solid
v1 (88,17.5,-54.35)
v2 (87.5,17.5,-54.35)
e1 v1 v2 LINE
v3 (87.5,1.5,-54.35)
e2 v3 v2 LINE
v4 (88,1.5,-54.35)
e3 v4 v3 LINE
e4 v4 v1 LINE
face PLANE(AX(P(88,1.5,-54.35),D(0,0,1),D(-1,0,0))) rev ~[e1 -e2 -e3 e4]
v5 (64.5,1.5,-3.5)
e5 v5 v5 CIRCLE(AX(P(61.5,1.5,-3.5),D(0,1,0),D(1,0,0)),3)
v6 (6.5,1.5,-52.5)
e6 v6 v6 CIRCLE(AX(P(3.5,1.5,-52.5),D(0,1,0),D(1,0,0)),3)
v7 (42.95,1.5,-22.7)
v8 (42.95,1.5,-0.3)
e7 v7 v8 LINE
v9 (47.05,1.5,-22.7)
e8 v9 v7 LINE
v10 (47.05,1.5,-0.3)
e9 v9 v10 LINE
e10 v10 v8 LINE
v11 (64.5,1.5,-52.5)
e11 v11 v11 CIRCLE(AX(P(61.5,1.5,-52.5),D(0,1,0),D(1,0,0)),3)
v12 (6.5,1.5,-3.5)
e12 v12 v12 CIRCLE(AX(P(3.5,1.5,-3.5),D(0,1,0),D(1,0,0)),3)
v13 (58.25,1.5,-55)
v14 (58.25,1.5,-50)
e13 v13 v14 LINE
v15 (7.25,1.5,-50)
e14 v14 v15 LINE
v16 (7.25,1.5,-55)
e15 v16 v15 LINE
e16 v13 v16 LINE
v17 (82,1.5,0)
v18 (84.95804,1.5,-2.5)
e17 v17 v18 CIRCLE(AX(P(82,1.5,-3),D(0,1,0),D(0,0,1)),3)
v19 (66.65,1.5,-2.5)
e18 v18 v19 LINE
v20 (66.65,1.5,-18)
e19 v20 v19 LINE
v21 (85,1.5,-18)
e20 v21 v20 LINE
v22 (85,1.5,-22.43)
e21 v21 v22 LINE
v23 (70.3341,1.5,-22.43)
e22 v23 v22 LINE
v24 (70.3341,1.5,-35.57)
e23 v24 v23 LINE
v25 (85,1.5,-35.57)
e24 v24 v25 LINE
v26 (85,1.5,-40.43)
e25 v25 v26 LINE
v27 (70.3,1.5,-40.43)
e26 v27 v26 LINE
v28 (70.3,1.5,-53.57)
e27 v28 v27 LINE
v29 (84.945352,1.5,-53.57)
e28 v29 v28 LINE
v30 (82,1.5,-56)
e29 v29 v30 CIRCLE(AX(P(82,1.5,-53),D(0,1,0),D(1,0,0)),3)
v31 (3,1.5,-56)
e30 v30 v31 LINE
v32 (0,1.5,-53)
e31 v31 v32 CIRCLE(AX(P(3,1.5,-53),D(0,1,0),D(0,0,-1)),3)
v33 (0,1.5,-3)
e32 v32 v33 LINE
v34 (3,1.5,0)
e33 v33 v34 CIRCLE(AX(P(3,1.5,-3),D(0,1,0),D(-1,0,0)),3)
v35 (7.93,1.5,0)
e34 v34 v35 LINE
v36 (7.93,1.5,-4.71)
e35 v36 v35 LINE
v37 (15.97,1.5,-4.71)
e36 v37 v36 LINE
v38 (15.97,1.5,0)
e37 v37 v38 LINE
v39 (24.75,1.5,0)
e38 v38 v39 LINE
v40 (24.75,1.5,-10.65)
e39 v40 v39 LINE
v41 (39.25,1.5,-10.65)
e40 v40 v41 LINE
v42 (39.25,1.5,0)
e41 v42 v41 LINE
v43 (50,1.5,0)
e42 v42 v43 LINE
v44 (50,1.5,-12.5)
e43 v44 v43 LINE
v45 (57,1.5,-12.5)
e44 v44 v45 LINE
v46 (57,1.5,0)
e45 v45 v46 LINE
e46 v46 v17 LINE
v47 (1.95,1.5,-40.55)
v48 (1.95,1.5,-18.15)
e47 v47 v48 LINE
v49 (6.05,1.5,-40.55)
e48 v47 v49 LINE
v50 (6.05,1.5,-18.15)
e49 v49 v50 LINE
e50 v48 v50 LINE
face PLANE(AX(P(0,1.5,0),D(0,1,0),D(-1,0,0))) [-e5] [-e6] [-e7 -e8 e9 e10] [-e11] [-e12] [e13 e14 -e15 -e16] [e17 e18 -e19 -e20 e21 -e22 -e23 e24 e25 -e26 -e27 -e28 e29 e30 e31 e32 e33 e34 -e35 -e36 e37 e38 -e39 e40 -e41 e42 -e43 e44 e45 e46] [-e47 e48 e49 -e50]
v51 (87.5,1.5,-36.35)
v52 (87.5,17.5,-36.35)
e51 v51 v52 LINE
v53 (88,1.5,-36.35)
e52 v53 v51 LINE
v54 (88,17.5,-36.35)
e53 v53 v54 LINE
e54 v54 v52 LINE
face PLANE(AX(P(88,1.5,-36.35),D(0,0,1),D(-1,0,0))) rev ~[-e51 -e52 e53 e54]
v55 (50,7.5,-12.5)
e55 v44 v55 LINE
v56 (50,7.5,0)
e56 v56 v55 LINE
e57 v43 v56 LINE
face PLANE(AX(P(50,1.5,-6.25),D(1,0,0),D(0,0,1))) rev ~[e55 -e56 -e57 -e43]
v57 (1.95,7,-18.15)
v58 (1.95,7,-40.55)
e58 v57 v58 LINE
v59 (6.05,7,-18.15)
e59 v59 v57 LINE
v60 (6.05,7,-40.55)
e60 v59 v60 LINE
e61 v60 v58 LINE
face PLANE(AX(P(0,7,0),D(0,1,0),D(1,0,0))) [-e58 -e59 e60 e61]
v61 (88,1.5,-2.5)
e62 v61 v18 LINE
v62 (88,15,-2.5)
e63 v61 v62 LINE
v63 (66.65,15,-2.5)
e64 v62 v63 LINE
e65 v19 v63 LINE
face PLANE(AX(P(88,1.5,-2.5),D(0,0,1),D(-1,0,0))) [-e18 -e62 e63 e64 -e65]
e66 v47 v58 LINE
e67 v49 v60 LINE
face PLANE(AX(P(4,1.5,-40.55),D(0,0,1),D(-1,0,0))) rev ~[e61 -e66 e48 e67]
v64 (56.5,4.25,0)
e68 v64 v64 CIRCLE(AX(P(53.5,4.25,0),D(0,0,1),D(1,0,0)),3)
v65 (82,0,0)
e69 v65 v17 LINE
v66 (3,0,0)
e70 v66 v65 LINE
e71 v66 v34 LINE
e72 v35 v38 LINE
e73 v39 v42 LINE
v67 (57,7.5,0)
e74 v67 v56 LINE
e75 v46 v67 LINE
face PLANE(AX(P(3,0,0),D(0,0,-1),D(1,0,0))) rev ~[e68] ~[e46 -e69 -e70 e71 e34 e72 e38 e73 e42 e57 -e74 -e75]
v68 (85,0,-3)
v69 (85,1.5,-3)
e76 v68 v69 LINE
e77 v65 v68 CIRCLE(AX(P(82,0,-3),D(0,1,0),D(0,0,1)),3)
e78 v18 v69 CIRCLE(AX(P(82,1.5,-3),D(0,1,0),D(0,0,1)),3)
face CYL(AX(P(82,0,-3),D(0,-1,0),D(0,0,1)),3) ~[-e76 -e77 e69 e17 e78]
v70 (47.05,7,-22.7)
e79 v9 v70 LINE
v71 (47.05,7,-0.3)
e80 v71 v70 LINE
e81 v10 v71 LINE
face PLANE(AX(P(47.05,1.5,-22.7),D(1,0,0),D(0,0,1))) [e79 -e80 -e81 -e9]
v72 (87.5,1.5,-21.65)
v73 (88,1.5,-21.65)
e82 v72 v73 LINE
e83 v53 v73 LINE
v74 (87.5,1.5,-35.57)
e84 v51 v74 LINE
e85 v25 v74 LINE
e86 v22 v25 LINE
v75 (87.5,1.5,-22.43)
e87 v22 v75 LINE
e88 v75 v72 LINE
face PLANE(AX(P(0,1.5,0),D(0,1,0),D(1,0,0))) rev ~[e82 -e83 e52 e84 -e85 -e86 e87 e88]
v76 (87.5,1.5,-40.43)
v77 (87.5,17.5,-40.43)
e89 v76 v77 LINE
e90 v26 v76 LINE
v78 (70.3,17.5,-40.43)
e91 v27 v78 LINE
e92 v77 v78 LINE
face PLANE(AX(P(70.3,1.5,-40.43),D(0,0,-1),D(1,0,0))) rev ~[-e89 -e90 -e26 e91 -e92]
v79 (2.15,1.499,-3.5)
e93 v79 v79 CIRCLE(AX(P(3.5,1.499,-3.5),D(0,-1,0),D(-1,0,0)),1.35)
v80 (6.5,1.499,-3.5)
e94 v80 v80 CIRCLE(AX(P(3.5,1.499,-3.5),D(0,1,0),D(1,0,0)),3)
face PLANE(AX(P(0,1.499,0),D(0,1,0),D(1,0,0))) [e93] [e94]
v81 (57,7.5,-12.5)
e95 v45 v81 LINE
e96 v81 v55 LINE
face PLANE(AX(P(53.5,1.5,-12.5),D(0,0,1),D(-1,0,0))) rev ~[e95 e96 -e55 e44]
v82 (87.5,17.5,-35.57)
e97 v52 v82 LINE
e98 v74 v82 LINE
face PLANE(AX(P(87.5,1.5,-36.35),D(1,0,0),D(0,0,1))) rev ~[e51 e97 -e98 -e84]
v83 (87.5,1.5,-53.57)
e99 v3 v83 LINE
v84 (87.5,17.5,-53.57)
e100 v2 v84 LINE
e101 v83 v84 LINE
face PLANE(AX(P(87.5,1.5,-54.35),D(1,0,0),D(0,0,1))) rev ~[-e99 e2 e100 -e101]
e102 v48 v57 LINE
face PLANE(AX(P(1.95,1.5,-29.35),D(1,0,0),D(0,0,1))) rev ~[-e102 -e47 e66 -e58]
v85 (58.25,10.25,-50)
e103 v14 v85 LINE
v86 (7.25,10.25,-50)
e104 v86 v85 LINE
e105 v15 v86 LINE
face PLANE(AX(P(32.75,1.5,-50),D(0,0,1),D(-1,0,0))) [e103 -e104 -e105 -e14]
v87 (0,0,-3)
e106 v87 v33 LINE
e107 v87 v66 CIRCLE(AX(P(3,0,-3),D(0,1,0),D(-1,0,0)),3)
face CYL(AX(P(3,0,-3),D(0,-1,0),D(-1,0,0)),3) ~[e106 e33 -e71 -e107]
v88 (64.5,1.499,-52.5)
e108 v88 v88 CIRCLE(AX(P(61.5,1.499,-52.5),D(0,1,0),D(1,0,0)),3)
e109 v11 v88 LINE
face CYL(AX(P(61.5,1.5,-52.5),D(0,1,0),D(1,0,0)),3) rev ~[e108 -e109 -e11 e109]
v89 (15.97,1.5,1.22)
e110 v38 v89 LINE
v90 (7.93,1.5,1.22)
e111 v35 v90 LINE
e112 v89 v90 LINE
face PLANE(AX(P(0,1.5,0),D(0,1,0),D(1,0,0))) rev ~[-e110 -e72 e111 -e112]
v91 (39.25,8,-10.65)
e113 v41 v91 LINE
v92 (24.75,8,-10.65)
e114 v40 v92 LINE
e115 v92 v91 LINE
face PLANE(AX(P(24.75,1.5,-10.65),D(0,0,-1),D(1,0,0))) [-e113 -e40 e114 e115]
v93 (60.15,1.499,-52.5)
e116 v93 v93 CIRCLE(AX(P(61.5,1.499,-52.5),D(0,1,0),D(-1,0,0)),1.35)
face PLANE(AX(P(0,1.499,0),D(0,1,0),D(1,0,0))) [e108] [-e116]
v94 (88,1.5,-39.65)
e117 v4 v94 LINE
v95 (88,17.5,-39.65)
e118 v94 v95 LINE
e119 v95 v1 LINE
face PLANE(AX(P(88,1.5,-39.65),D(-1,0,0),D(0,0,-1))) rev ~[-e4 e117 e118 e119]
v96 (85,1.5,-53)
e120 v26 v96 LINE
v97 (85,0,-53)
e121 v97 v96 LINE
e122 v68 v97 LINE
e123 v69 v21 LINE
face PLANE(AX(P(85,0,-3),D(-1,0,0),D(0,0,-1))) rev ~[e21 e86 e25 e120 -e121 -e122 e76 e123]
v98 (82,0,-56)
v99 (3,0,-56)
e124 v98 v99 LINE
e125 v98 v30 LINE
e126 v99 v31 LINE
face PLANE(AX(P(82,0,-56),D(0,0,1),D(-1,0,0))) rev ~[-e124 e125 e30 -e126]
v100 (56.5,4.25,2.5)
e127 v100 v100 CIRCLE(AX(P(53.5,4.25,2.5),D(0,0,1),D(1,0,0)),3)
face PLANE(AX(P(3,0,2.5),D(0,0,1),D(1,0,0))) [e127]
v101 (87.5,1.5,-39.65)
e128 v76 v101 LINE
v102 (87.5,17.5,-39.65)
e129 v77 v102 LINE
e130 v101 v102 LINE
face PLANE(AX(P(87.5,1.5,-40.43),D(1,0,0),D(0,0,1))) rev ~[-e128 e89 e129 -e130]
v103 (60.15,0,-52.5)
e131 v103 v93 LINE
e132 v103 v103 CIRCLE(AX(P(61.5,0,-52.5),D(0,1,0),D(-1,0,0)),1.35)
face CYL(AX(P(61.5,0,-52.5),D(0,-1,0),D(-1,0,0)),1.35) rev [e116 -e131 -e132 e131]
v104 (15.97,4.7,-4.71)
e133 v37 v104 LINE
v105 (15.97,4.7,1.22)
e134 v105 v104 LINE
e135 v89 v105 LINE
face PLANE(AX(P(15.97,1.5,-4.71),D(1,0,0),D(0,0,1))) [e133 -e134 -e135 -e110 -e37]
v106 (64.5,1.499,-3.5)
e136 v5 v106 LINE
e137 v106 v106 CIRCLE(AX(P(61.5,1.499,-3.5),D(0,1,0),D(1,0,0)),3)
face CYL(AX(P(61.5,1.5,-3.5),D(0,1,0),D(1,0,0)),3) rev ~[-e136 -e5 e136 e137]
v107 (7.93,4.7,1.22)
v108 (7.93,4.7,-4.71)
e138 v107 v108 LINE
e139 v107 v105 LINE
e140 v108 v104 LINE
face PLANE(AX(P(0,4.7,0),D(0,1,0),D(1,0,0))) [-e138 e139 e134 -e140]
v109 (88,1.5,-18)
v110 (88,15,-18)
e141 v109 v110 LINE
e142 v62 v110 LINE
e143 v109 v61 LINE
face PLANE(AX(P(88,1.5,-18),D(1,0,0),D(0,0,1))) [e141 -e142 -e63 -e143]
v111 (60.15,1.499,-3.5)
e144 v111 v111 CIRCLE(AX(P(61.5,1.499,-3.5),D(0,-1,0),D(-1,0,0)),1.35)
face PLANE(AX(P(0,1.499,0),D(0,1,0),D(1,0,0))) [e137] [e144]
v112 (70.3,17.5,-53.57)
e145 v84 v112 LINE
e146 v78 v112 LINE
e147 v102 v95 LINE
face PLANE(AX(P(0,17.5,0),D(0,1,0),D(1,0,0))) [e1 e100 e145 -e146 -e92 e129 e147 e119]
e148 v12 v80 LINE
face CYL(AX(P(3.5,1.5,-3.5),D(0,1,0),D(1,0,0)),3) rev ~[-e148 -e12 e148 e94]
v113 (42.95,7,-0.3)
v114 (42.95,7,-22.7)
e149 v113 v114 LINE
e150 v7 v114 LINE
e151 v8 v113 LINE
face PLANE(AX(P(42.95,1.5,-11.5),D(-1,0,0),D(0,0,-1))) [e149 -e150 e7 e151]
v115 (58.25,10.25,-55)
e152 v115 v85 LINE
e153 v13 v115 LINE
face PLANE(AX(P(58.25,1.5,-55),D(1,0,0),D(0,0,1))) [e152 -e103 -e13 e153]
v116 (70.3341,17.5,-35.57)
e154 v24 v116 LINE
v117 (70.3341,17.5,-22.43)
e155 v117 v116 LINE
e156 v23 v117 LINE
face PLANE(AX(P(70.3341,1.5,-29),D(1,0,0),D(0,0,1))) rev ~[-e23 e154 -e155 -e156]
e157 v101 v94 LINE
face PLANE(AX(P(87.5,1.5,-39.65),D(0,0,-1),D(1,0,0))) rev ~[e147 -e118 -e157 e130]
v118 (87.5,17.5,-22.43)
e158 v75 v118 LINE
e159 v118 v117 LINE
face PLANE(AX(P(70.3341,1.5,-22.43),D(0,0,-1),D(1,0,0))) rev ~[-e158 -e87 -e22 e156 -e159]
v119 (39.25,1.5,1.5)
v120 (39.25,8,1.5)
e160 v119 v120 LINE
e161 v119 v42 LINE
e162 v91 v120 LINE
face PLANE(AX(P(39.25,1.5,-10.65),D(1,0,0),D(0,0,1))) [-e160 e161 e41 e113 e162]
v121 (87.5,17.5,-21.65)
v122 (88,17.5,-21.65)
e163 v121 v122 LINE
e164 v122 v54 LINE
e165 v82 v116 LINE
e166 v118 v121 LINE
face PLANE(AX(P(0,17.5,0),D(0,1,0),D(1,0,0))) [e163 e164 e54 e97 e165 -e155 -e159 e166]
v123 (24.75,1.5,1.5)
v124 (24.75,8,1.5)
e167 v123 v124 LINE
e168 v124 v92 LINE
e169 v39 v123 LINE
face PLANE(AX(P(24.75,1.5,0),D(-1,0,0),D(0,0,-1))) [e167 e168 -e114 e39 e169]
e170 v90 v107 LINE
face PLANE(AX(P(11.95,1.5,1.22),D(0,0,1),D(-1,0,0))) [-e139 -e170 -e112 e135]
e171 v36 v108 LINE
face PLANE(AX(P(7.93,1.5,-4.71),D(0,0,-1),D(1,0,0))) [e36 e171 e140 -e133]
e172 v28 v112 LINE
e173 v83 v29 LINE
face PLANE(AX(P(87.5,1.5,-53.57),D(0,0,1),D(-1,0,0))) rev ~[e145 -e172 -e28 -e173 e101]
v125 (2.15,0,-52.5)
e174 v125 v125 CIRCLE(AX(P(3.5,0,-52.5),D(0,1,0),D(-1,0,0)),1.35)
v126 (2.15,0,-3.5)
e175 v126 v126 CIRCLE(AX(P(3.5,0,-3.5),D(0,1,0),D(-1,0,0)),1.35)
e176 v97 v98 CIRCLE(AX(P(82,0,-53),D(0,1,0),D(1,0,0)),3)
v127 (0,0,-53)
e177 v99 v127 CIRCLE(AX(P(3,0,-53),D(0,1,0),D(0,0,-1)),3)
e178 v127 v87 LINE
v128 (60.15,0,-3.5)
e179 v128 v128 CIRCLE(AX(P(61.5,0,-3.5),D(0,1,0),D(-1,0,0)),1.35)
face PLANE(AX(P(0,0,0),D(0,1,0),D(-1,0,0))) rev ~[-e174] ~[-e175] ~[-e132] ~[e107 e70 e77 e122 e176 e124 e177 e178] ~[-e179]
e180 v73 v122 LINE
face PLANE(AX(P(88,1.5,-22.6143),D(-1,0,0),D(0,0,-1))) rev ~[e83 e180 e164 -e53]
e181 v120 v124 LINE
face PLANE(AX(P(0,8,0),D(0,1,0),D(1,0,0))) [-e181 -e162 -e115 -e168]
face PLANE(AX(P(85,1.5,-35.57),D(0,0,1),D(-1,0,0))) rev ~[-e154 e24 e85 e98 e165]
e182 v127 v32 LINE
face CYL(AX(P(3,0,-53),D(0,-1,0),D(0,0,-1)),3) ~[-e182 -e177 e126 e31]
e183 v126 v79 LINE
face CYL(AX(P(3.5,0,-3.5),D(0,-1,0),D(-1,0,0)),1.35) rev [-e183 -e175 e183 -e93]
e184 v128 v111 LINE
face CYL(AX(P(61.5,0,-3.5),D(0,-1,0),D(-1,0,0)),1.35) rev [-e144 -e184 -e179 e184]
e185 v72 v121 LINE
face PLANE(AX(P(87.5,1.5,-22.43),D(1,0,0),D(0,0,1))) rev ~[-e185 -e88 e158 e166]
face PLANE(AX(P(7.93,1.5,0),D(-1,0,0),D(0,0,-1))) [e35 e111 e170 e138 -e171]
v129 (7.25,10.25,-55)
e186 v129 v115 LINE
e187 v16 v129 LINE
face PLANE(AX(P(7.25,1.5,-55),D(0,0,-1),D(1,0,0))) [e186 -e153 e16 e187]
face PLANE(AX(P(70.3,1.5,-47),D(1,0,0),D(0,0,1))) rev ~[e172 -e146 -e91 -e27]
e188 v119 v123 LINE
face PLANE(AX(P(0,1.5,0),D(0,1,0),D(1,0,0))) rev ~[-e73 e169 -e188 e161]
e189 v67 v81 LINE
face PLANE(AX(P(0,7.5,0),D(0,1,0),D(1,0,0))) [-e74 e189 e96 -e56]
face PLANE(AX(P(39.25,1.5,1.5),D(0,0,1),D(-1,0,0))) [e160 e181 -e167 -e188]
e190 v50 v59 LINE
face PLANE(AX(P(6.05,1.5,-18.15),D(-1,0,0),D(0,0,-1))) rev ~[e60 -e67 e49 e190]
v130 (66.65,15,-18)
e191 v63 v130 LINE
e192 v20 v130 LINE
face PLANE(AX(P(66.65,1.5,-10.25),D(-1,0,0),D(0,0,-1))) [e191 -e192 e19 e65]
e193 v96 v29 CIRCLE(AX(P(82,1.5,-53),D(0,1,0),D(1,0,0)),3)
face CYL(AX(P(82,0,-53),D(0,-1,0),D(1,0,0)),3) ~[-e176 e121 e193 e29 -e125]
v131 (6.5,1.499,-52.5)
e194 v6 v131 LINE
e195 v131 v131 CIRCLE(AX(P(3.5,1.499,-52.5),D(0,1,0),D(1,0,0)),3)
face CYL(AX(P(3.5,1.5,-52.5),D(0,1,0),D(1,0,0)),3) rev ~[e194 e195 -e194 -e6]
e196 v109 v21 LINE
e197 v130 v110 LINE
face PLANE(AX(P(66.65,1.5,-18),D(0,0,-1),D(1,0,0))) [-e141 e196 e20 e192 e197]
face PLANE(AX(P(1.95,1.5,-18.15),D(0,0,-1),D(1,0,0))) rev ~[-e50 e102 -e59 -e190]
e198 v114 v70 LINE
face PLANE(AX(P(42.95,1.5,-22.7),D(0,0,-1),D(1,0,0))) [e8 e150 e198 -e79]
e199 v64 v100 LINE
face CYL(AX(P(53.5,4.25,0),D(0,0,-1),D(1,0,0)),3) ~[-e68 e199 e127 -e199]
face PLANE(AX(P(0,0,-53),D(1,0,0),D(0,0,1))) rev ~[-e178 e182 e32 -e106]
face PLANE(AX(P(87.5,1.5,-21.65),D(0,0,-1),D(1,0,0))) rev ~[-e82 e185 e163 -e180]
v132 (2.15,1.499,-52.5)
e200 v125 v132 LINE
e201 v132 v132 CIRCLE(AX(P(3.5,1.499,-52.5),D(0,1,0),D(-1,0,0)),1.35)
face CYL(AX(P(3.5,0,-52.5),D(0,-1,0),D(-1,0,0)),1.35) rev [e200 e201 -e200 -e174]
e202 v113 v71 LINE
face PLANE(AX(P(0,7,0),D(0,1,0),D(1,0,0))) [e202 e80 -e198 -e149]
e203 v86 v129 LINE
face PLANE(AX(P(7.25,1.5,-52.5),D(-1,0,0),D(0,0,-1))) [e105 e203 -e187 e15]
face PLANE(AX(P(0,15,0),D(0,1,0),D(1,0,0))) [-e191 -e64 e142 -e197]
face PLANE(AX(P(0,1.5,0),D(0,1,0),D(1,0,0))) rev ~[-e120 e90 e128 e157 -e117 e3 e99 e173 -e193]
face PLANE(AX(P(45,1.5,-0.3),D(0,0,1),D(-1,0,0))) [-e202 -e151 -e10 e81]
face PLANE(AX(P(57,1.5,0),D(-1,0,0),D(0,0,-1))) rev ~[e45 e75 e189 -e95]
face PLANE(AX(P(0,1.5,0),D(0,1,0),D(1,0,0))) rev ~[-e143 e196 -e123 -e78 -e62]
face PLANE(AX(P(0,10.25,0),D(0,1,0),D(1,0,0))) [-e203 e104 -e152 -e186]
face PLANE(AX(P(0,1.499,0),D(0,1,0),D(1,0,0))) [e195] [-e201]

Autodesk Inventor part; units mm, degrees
ref_plane "YZ Plane" through (0, 0, 0) normal (1, 0, 0) x (0, 1, 0)
ref_plane "XZ Plane" through (0, 0, 0) normal (0, 1, 0) x (-1, 0, 0)
ref_plane "XY Plane" through (0, 0, 0) normal (0, 0, 1) x (1, 0, 0)
sketch "Sketch1" plane through (0, 0, 0) normal (0, 1, 0) x (-1, 0, 0)
  line L0 (-3, 0) -> (-82, 0)
  line L1 (-85, -3) -> (-85, -53)
  line L2 (-82, -56) -> (-3, -56)
  line L3 (0, -53) -> (0, -3)
  arc A0 (-3, -56) -> (0, -53) centre (-3, -53) ccw
  arc A1 (0, -3) -> (-3, 0) centre (-3, -3) ccw
  arc A2 (-82, 0) -> (-85, -3) centre (-82, -3) ccw
  arc A3 (-85, -53) -> (-82, -56) centre (-82, -53) ccw
  circle A4 centre (-3.5, -52.5) radius 1.35
  circle A5 centre (-3.5, -3.5) radius 1.35
  circle A6 centre (-61.5, -52.5) radius 1.35
  circle A7 centre (-61.5, -3.5) radius 1.35
  point P0 (0, 0)
  point P1 (-85, -56)
  point P2 (-85, 0)
  point P3 (0, -56)
  dimension "d0" = 85
  dimension "d1" = 56
  dimension "d2" = 3
  dimension "d9" = 2.7
  dimension "d10" = 2.7
  dimension "d15" = 2.7
  dimension "d16" = 2.7
  dimension "d140" = 58
  dimension "d141" = 58
  dimension "d142" = 49
  dimension "d143" = 3.5
extrude "Extrusion1" add sketch "Sketch1" along normal blind 1.5
sketch "Sketch2" plane through (0, 1.5, 0) normal (0, 1, 0) x (1, 0, 0)
  circle A0 centre (3.5, 3.5) radius 1.35 projected
  circle A1 centre (3.5, 3.5) radius 3
  circle A2 centre (3.5, 52.5) radius 1.35 projected
  circle A3 centre (3.5, 52.5) radius 3
  circle A4 centre (61.5, 52.5) radius 1.35 projected
  circle A5 centre (61.5, 52.5) radius 3
  circle A6 centre (61.5, 3.5) radius 1.35 projected
  circle A7 centre (61.5, 3.5) radius 3
  point P0 (0, 0)
  dimension "d19" = 6
  dimension "d20" = 6
  dimension "d21" = 6
  dimension "d22" = 6
extrude "Extrusion2" cut sketch "Sketch2" against normal blind 0.001 contours A0 | A1 | A3 | A5 | A6 | A7
sketch "Sketch3" plane through (0, 1.5, 0) normal (0, 1, 0) x (1, 0, 0)
  line L0 (7.25, 55) -> (58.25, 55)
  line L1 (58.25, 55) -> (58.25, 50)
  line L2 (58.25, 50) -> (7.25, 50)
  line L3 (7.25, 50) -> (7.25, 55)
  line L4 (32.75, 55) -> (32.75, 50)
  line L5 (32.75, 52.5) -> (7.25, 52.5)
  line L6 (0, 53) -> (0, 3) projected
  line L7 (82, 56) -> (3, 56) projected
  circle A0 centre (3.5, 52.5) radius 1.35 projected
  point P0 (0, 0)
  dimension "d25" = 51
  dimension "d26" = 5
  dimension "d28" = 25.5
  dimension "d29" = 2.5
  dimension "d30" = 3.5
  dimension "d152" = 7.25
extrude "Extrusion3" add sketch "Sketch3" along normal blind 8.75 contours L0 L4 L5 L3 | L0 L1 L2 L4 | L5 L4 L2 L3
sketch "Sketch4" plane through (0, 1.5, 0) normal (0, 1, 0) x (1, 0, 0)
  line L0 (1.95, 18.15) -> (6.05, 18.15)
  line L1 (6.05, 18.15) -> (6.05, 40.55)
  line L2 (6.05, 40.55) -> (1.95, 40.55)
  line L3 (1.95, 40.55) -> (1.95, 18.15)
  line L4 (4, 40.55) -> (4, 18.15)
  line L5 (1.95, 29.35) -> (6.05, 29.35)
  line L6 (0, 53) -> (0, 3) projected
  circle A0 centre (3.5, 3.5) radius 1.35 projected
  point P0 (0, 0)
  dimension "d34" = 4.1
  dimension "d35" = 22.4
  dimension "d36" = 4
  dimension "d37" = 24.5
extrude "Extrusion4" add sketch "Sketch4" along normal blind 5.5 contours L3 L5 L4 L0 | L4 L5 L1 L0 | L3 L2 L4 L5 | L4 L2 L1 L5
sketch "Sketch5" plane through (0, 1.5, 0) normal (0, 1, 0) x (1, 0, 0)
  line L0 (7.93, 4.71) -> (15.97, 4.71)
  line L1 (15.97, 4.71) -> (15.97, -1.22)
  line L2 (15.97, -1.22) -> (7.93, -1.22)
  line L3 (7.93, -1.22) -> (7.93, 4.71)
  line L4 (3, 0) -> (82, 0) projected
  line L5 (11.95, -1.22) -> (11.95, 4.71)
  circle A0 centre (3.5, 3.5) radius 1.35 projected
  point P0 (0, 0)
  dimension "d44" = 1.22
  dimension "d45" = 5.93
  dimension "d46" = 8.04
  dimension "d74" = 7.1
extrude "Extrusion5" add sketch "Sketch5" along normal blind 3.2 contours L0 L5 L4 L3 | L0 L1 L4 L5 | L4 L5 L2 L3 | L4 L1 L2 L5
sketch "Sketch6" plane through (0, 1.5, 0) normal (0, 1, 0) x (1, 0, 0)
  line L0 (7.93, -1.22) -> (15.97, -1.22) projected
  line L1 (11.95, -1.22) -> (11.95, 4.71)
  line L2 (7.93, 4.71) -> (15.97, 4.71) projected
  line L3 (24.75, 10.65) -> (39.25, 10.65)
  line L4 (39.25, 10.65) -> (39.25, -1.5)
  line L5 (39.25, -1.5) -> (24.75, -1.5)
  line L6 (24.75, -1.5) -> (24.75, 10.65)
  line L7 (15.97, 0) -> (82, 0) projected
  circle A0 centre (3.5, 3.5) radius 1.35 projected
  line L8 (0, 53) -> (0, 3) projected
  point P0 (0, 0)
  dimension "d144" = 14.5
  dimension "d145" = 12.15
  dimension "d146" = 1.5
  dimension "d153" = 24.75
extrude "Extrusion6" add sketch "Sketch6" along normal blind 6.5 contours L3 L4 L7 L6 | L7 L4 L5 L6
sketch "Sketch7" plane through (0, 1.5, 0) normal (0, 1, 0) x (1, 0, 0)
  line L0 (1.95, 40.55) -> (1.95, 18.15) projected
  line L1 (6.05, 18.15) -> (6.05, 40.55) projected
  line L2 (42.95, 22.7) -> (47.05, 22.7)
  line L3 (47.05, 22.7) -> (47.05, 0.3)
  line L4 (47.05, 0.3) -> (42.95, 0.3)
  line L5 (42.95, 0.3) -> (42.95, 22.7)
  line L6 (45, 0.3) -> (45, 22.7)
  line L7 (42.95, 11.5) -> (47.05, 11.5)
  line L8 (0, 53) -> (0, 3) projected
  point P0 (0, 0)
  dimension "d78" = 4.1
  dimension "d80" = 22.4
  dimension "d150" = 45
extrude "Extrusion7" add sketch "Sketch7" along normal blind 5.5
sketch "Sketch8" plane through (0, 1.5, 0) normal (0, 1, 0) x (1, 0, 0)
  line L0 (50, 0) -> (57, 0)
  line L1 (57, 0) -> (57, 12.5)
  line L2 (57, 12.5) -> (50, 12.5)
  line L3 (50, 12.5) -> (50, 0)
  line L4 (50, 6.25) -> (57, 6.25)
  line L5 (53.5, 0) -> (53.5, 12.5)
  line L6 (3, 0) -> (82, 0) projected
  line L7 (47.05, 0.3) -> (42.95, 0.3) projected
  line L8 (45, 0.3) -> (45, 22.7)
  line L9 (42.95, 22.7) -> (47.05, 22.7) projected
  circle A0 centre (3.5, 3.5) radius 1.35 projected
  line L10 (0, 53) -> (0, 3) projected
  point P0 (0, 0)
  point P1 (43.35, 0)
  dimension "d85" = 7
  dimension "d86" = 12.5
  dimension "d89" = 0
  dimension "d149" = 53.5
extrude "Extrusion8" add sketch "Sketch8" along normal blind 6 contours L3 L4 L5 L0 | L5 L4 L1 L0 | L3 L2 L5 L4 | L5 L2 L1 L4
sketch "Sketch9" plane through (3, 0, 0) normal (0, 0, 1) x (1, 0, 0)
  line L0 (54, 7.5) -> (47, 7.5) projected
  line L1 (54, 1.5) -> (54, 7.5) projected
  circle A0 centre (50.5, 4.25) radius 3
  point P0 (-3, 0)
  dimension "d96" = 3.5
  dimension "d97" = 3.25
  dimension "d98" = 6
extrude "Extrusion9" add sketch "Sketch9" along normal blind 2.5
sketch "Sketch10" plane through (0, 1.5, 0) normal (0, 1, 0) x (1, 0, 0)
  line L0 (66.65, 18) -> (88, 18)
  line L1 (88, 18) -> (88, 2.5)
  line L2 (88, 2.5) -> (66.65, 2.5)
  line L3 (66.65, 2.5) -> (66.65, 18)
  line L4 (85, 3) -> (85, 53) projected
  line L5 (88, 10.25) -> (66.65, 10.25)
  line L6 (57, 0) -> (82, 0) projected
  point P0 (0, 0)
  dimension "d101" = 21.35
  dimension "d102" = 15.5
  dimension "d103" = 3
  dimension "d104" = 10.25
extrude "Extrusion10" add sketch "Sketch10" along normal blind 13.5
sketch "Sketch11" plane through (0, 1.5, 0) normal (0, 1, 0) x (1, 0, 0)
  line L0 (70.3341, 22.43) -> (87.5, 22.43)
  line L1 (88, 2.4833) -> (88, 15.6315)
  line L2 (87.5, 35.57) -> (70.3341, 35.57)
  line L3 (70.3341, 35.57) -> (70.3341, 22.43)
  line L4 (85, 3) -> (85, 53) projected
  line L5 (88, 36.35) -> (87.5, 36.35)
  line L6 (87.5, 21.65) -> (88, 21.65)
  line L7 (88, 21.65) -> (88, 36.35)
  line L8 (87.5, 36.35) -> (87.5, 35.57)
  line L9 (87.5, 22.43) -> (87.5, 21.65)
  line L10 (88, 29) -> (70.3341, 29)
  line L11 (70.3, 40.43) -> (87.5, 40.43)
  line L12 (88, 22.6143) -> (88, 34.7304)
  line L13 (87.5, 53.57) -> (70.3, 53.57)
  line L14 (70.3, 53.57) -> (70.3, 40.43)
  line L15 (88, 54.35) -> (87.5, 54.35)
  line L16 (87.5, 39.65) -> (88, 39.65)
  line L17 (88, 39.65) -> (88, 54.35)
  line L18 (87.5, 54.35) -> (87.5, 53.57)
  line L19 (87.5, 40.43) -> (87.5, 39.65)
  line L20 (88, 47) -> (70.3, 47)
  line L21 (66.65, 2.5) -> (66.65, 18) projected
  line L22 (66.65, 10.25) -> (88, 10.25)
  line L23 (57, 0) -> (82, 0) projected
  point P0 (0, 0)
  point P1 (85, 38)
  point P2 (88, 34.35)
  dimension "d107" = 3
  dimension "d109" = 13.14
  dimension "d113" = 14.7
  dimension "d115" = 13.14
  dimension "d119" = 14.7
  dimension "d123" = 29
  dimension "d125" = 14.7
  dimension "d126" = 3
  dimension "d127" = 3
  dimension "d129" = 2.5
  dimension "d130" = 2.5
  dimension "d131" = 2.5
  dimension "d132" = 14.6659
  dimension "d133" = 3
  dimension "d134" = 34.7304
  dimension "d135" = 22.6143
  dimension "d136" = 15.6315
  dimension "d137" = 2.4833
  dimension "d151" = 47
extrude "Extrusion11" add sketch "Sketch11" along normal blind 16
properties part number "RaspberryPi3B_Mockup"
